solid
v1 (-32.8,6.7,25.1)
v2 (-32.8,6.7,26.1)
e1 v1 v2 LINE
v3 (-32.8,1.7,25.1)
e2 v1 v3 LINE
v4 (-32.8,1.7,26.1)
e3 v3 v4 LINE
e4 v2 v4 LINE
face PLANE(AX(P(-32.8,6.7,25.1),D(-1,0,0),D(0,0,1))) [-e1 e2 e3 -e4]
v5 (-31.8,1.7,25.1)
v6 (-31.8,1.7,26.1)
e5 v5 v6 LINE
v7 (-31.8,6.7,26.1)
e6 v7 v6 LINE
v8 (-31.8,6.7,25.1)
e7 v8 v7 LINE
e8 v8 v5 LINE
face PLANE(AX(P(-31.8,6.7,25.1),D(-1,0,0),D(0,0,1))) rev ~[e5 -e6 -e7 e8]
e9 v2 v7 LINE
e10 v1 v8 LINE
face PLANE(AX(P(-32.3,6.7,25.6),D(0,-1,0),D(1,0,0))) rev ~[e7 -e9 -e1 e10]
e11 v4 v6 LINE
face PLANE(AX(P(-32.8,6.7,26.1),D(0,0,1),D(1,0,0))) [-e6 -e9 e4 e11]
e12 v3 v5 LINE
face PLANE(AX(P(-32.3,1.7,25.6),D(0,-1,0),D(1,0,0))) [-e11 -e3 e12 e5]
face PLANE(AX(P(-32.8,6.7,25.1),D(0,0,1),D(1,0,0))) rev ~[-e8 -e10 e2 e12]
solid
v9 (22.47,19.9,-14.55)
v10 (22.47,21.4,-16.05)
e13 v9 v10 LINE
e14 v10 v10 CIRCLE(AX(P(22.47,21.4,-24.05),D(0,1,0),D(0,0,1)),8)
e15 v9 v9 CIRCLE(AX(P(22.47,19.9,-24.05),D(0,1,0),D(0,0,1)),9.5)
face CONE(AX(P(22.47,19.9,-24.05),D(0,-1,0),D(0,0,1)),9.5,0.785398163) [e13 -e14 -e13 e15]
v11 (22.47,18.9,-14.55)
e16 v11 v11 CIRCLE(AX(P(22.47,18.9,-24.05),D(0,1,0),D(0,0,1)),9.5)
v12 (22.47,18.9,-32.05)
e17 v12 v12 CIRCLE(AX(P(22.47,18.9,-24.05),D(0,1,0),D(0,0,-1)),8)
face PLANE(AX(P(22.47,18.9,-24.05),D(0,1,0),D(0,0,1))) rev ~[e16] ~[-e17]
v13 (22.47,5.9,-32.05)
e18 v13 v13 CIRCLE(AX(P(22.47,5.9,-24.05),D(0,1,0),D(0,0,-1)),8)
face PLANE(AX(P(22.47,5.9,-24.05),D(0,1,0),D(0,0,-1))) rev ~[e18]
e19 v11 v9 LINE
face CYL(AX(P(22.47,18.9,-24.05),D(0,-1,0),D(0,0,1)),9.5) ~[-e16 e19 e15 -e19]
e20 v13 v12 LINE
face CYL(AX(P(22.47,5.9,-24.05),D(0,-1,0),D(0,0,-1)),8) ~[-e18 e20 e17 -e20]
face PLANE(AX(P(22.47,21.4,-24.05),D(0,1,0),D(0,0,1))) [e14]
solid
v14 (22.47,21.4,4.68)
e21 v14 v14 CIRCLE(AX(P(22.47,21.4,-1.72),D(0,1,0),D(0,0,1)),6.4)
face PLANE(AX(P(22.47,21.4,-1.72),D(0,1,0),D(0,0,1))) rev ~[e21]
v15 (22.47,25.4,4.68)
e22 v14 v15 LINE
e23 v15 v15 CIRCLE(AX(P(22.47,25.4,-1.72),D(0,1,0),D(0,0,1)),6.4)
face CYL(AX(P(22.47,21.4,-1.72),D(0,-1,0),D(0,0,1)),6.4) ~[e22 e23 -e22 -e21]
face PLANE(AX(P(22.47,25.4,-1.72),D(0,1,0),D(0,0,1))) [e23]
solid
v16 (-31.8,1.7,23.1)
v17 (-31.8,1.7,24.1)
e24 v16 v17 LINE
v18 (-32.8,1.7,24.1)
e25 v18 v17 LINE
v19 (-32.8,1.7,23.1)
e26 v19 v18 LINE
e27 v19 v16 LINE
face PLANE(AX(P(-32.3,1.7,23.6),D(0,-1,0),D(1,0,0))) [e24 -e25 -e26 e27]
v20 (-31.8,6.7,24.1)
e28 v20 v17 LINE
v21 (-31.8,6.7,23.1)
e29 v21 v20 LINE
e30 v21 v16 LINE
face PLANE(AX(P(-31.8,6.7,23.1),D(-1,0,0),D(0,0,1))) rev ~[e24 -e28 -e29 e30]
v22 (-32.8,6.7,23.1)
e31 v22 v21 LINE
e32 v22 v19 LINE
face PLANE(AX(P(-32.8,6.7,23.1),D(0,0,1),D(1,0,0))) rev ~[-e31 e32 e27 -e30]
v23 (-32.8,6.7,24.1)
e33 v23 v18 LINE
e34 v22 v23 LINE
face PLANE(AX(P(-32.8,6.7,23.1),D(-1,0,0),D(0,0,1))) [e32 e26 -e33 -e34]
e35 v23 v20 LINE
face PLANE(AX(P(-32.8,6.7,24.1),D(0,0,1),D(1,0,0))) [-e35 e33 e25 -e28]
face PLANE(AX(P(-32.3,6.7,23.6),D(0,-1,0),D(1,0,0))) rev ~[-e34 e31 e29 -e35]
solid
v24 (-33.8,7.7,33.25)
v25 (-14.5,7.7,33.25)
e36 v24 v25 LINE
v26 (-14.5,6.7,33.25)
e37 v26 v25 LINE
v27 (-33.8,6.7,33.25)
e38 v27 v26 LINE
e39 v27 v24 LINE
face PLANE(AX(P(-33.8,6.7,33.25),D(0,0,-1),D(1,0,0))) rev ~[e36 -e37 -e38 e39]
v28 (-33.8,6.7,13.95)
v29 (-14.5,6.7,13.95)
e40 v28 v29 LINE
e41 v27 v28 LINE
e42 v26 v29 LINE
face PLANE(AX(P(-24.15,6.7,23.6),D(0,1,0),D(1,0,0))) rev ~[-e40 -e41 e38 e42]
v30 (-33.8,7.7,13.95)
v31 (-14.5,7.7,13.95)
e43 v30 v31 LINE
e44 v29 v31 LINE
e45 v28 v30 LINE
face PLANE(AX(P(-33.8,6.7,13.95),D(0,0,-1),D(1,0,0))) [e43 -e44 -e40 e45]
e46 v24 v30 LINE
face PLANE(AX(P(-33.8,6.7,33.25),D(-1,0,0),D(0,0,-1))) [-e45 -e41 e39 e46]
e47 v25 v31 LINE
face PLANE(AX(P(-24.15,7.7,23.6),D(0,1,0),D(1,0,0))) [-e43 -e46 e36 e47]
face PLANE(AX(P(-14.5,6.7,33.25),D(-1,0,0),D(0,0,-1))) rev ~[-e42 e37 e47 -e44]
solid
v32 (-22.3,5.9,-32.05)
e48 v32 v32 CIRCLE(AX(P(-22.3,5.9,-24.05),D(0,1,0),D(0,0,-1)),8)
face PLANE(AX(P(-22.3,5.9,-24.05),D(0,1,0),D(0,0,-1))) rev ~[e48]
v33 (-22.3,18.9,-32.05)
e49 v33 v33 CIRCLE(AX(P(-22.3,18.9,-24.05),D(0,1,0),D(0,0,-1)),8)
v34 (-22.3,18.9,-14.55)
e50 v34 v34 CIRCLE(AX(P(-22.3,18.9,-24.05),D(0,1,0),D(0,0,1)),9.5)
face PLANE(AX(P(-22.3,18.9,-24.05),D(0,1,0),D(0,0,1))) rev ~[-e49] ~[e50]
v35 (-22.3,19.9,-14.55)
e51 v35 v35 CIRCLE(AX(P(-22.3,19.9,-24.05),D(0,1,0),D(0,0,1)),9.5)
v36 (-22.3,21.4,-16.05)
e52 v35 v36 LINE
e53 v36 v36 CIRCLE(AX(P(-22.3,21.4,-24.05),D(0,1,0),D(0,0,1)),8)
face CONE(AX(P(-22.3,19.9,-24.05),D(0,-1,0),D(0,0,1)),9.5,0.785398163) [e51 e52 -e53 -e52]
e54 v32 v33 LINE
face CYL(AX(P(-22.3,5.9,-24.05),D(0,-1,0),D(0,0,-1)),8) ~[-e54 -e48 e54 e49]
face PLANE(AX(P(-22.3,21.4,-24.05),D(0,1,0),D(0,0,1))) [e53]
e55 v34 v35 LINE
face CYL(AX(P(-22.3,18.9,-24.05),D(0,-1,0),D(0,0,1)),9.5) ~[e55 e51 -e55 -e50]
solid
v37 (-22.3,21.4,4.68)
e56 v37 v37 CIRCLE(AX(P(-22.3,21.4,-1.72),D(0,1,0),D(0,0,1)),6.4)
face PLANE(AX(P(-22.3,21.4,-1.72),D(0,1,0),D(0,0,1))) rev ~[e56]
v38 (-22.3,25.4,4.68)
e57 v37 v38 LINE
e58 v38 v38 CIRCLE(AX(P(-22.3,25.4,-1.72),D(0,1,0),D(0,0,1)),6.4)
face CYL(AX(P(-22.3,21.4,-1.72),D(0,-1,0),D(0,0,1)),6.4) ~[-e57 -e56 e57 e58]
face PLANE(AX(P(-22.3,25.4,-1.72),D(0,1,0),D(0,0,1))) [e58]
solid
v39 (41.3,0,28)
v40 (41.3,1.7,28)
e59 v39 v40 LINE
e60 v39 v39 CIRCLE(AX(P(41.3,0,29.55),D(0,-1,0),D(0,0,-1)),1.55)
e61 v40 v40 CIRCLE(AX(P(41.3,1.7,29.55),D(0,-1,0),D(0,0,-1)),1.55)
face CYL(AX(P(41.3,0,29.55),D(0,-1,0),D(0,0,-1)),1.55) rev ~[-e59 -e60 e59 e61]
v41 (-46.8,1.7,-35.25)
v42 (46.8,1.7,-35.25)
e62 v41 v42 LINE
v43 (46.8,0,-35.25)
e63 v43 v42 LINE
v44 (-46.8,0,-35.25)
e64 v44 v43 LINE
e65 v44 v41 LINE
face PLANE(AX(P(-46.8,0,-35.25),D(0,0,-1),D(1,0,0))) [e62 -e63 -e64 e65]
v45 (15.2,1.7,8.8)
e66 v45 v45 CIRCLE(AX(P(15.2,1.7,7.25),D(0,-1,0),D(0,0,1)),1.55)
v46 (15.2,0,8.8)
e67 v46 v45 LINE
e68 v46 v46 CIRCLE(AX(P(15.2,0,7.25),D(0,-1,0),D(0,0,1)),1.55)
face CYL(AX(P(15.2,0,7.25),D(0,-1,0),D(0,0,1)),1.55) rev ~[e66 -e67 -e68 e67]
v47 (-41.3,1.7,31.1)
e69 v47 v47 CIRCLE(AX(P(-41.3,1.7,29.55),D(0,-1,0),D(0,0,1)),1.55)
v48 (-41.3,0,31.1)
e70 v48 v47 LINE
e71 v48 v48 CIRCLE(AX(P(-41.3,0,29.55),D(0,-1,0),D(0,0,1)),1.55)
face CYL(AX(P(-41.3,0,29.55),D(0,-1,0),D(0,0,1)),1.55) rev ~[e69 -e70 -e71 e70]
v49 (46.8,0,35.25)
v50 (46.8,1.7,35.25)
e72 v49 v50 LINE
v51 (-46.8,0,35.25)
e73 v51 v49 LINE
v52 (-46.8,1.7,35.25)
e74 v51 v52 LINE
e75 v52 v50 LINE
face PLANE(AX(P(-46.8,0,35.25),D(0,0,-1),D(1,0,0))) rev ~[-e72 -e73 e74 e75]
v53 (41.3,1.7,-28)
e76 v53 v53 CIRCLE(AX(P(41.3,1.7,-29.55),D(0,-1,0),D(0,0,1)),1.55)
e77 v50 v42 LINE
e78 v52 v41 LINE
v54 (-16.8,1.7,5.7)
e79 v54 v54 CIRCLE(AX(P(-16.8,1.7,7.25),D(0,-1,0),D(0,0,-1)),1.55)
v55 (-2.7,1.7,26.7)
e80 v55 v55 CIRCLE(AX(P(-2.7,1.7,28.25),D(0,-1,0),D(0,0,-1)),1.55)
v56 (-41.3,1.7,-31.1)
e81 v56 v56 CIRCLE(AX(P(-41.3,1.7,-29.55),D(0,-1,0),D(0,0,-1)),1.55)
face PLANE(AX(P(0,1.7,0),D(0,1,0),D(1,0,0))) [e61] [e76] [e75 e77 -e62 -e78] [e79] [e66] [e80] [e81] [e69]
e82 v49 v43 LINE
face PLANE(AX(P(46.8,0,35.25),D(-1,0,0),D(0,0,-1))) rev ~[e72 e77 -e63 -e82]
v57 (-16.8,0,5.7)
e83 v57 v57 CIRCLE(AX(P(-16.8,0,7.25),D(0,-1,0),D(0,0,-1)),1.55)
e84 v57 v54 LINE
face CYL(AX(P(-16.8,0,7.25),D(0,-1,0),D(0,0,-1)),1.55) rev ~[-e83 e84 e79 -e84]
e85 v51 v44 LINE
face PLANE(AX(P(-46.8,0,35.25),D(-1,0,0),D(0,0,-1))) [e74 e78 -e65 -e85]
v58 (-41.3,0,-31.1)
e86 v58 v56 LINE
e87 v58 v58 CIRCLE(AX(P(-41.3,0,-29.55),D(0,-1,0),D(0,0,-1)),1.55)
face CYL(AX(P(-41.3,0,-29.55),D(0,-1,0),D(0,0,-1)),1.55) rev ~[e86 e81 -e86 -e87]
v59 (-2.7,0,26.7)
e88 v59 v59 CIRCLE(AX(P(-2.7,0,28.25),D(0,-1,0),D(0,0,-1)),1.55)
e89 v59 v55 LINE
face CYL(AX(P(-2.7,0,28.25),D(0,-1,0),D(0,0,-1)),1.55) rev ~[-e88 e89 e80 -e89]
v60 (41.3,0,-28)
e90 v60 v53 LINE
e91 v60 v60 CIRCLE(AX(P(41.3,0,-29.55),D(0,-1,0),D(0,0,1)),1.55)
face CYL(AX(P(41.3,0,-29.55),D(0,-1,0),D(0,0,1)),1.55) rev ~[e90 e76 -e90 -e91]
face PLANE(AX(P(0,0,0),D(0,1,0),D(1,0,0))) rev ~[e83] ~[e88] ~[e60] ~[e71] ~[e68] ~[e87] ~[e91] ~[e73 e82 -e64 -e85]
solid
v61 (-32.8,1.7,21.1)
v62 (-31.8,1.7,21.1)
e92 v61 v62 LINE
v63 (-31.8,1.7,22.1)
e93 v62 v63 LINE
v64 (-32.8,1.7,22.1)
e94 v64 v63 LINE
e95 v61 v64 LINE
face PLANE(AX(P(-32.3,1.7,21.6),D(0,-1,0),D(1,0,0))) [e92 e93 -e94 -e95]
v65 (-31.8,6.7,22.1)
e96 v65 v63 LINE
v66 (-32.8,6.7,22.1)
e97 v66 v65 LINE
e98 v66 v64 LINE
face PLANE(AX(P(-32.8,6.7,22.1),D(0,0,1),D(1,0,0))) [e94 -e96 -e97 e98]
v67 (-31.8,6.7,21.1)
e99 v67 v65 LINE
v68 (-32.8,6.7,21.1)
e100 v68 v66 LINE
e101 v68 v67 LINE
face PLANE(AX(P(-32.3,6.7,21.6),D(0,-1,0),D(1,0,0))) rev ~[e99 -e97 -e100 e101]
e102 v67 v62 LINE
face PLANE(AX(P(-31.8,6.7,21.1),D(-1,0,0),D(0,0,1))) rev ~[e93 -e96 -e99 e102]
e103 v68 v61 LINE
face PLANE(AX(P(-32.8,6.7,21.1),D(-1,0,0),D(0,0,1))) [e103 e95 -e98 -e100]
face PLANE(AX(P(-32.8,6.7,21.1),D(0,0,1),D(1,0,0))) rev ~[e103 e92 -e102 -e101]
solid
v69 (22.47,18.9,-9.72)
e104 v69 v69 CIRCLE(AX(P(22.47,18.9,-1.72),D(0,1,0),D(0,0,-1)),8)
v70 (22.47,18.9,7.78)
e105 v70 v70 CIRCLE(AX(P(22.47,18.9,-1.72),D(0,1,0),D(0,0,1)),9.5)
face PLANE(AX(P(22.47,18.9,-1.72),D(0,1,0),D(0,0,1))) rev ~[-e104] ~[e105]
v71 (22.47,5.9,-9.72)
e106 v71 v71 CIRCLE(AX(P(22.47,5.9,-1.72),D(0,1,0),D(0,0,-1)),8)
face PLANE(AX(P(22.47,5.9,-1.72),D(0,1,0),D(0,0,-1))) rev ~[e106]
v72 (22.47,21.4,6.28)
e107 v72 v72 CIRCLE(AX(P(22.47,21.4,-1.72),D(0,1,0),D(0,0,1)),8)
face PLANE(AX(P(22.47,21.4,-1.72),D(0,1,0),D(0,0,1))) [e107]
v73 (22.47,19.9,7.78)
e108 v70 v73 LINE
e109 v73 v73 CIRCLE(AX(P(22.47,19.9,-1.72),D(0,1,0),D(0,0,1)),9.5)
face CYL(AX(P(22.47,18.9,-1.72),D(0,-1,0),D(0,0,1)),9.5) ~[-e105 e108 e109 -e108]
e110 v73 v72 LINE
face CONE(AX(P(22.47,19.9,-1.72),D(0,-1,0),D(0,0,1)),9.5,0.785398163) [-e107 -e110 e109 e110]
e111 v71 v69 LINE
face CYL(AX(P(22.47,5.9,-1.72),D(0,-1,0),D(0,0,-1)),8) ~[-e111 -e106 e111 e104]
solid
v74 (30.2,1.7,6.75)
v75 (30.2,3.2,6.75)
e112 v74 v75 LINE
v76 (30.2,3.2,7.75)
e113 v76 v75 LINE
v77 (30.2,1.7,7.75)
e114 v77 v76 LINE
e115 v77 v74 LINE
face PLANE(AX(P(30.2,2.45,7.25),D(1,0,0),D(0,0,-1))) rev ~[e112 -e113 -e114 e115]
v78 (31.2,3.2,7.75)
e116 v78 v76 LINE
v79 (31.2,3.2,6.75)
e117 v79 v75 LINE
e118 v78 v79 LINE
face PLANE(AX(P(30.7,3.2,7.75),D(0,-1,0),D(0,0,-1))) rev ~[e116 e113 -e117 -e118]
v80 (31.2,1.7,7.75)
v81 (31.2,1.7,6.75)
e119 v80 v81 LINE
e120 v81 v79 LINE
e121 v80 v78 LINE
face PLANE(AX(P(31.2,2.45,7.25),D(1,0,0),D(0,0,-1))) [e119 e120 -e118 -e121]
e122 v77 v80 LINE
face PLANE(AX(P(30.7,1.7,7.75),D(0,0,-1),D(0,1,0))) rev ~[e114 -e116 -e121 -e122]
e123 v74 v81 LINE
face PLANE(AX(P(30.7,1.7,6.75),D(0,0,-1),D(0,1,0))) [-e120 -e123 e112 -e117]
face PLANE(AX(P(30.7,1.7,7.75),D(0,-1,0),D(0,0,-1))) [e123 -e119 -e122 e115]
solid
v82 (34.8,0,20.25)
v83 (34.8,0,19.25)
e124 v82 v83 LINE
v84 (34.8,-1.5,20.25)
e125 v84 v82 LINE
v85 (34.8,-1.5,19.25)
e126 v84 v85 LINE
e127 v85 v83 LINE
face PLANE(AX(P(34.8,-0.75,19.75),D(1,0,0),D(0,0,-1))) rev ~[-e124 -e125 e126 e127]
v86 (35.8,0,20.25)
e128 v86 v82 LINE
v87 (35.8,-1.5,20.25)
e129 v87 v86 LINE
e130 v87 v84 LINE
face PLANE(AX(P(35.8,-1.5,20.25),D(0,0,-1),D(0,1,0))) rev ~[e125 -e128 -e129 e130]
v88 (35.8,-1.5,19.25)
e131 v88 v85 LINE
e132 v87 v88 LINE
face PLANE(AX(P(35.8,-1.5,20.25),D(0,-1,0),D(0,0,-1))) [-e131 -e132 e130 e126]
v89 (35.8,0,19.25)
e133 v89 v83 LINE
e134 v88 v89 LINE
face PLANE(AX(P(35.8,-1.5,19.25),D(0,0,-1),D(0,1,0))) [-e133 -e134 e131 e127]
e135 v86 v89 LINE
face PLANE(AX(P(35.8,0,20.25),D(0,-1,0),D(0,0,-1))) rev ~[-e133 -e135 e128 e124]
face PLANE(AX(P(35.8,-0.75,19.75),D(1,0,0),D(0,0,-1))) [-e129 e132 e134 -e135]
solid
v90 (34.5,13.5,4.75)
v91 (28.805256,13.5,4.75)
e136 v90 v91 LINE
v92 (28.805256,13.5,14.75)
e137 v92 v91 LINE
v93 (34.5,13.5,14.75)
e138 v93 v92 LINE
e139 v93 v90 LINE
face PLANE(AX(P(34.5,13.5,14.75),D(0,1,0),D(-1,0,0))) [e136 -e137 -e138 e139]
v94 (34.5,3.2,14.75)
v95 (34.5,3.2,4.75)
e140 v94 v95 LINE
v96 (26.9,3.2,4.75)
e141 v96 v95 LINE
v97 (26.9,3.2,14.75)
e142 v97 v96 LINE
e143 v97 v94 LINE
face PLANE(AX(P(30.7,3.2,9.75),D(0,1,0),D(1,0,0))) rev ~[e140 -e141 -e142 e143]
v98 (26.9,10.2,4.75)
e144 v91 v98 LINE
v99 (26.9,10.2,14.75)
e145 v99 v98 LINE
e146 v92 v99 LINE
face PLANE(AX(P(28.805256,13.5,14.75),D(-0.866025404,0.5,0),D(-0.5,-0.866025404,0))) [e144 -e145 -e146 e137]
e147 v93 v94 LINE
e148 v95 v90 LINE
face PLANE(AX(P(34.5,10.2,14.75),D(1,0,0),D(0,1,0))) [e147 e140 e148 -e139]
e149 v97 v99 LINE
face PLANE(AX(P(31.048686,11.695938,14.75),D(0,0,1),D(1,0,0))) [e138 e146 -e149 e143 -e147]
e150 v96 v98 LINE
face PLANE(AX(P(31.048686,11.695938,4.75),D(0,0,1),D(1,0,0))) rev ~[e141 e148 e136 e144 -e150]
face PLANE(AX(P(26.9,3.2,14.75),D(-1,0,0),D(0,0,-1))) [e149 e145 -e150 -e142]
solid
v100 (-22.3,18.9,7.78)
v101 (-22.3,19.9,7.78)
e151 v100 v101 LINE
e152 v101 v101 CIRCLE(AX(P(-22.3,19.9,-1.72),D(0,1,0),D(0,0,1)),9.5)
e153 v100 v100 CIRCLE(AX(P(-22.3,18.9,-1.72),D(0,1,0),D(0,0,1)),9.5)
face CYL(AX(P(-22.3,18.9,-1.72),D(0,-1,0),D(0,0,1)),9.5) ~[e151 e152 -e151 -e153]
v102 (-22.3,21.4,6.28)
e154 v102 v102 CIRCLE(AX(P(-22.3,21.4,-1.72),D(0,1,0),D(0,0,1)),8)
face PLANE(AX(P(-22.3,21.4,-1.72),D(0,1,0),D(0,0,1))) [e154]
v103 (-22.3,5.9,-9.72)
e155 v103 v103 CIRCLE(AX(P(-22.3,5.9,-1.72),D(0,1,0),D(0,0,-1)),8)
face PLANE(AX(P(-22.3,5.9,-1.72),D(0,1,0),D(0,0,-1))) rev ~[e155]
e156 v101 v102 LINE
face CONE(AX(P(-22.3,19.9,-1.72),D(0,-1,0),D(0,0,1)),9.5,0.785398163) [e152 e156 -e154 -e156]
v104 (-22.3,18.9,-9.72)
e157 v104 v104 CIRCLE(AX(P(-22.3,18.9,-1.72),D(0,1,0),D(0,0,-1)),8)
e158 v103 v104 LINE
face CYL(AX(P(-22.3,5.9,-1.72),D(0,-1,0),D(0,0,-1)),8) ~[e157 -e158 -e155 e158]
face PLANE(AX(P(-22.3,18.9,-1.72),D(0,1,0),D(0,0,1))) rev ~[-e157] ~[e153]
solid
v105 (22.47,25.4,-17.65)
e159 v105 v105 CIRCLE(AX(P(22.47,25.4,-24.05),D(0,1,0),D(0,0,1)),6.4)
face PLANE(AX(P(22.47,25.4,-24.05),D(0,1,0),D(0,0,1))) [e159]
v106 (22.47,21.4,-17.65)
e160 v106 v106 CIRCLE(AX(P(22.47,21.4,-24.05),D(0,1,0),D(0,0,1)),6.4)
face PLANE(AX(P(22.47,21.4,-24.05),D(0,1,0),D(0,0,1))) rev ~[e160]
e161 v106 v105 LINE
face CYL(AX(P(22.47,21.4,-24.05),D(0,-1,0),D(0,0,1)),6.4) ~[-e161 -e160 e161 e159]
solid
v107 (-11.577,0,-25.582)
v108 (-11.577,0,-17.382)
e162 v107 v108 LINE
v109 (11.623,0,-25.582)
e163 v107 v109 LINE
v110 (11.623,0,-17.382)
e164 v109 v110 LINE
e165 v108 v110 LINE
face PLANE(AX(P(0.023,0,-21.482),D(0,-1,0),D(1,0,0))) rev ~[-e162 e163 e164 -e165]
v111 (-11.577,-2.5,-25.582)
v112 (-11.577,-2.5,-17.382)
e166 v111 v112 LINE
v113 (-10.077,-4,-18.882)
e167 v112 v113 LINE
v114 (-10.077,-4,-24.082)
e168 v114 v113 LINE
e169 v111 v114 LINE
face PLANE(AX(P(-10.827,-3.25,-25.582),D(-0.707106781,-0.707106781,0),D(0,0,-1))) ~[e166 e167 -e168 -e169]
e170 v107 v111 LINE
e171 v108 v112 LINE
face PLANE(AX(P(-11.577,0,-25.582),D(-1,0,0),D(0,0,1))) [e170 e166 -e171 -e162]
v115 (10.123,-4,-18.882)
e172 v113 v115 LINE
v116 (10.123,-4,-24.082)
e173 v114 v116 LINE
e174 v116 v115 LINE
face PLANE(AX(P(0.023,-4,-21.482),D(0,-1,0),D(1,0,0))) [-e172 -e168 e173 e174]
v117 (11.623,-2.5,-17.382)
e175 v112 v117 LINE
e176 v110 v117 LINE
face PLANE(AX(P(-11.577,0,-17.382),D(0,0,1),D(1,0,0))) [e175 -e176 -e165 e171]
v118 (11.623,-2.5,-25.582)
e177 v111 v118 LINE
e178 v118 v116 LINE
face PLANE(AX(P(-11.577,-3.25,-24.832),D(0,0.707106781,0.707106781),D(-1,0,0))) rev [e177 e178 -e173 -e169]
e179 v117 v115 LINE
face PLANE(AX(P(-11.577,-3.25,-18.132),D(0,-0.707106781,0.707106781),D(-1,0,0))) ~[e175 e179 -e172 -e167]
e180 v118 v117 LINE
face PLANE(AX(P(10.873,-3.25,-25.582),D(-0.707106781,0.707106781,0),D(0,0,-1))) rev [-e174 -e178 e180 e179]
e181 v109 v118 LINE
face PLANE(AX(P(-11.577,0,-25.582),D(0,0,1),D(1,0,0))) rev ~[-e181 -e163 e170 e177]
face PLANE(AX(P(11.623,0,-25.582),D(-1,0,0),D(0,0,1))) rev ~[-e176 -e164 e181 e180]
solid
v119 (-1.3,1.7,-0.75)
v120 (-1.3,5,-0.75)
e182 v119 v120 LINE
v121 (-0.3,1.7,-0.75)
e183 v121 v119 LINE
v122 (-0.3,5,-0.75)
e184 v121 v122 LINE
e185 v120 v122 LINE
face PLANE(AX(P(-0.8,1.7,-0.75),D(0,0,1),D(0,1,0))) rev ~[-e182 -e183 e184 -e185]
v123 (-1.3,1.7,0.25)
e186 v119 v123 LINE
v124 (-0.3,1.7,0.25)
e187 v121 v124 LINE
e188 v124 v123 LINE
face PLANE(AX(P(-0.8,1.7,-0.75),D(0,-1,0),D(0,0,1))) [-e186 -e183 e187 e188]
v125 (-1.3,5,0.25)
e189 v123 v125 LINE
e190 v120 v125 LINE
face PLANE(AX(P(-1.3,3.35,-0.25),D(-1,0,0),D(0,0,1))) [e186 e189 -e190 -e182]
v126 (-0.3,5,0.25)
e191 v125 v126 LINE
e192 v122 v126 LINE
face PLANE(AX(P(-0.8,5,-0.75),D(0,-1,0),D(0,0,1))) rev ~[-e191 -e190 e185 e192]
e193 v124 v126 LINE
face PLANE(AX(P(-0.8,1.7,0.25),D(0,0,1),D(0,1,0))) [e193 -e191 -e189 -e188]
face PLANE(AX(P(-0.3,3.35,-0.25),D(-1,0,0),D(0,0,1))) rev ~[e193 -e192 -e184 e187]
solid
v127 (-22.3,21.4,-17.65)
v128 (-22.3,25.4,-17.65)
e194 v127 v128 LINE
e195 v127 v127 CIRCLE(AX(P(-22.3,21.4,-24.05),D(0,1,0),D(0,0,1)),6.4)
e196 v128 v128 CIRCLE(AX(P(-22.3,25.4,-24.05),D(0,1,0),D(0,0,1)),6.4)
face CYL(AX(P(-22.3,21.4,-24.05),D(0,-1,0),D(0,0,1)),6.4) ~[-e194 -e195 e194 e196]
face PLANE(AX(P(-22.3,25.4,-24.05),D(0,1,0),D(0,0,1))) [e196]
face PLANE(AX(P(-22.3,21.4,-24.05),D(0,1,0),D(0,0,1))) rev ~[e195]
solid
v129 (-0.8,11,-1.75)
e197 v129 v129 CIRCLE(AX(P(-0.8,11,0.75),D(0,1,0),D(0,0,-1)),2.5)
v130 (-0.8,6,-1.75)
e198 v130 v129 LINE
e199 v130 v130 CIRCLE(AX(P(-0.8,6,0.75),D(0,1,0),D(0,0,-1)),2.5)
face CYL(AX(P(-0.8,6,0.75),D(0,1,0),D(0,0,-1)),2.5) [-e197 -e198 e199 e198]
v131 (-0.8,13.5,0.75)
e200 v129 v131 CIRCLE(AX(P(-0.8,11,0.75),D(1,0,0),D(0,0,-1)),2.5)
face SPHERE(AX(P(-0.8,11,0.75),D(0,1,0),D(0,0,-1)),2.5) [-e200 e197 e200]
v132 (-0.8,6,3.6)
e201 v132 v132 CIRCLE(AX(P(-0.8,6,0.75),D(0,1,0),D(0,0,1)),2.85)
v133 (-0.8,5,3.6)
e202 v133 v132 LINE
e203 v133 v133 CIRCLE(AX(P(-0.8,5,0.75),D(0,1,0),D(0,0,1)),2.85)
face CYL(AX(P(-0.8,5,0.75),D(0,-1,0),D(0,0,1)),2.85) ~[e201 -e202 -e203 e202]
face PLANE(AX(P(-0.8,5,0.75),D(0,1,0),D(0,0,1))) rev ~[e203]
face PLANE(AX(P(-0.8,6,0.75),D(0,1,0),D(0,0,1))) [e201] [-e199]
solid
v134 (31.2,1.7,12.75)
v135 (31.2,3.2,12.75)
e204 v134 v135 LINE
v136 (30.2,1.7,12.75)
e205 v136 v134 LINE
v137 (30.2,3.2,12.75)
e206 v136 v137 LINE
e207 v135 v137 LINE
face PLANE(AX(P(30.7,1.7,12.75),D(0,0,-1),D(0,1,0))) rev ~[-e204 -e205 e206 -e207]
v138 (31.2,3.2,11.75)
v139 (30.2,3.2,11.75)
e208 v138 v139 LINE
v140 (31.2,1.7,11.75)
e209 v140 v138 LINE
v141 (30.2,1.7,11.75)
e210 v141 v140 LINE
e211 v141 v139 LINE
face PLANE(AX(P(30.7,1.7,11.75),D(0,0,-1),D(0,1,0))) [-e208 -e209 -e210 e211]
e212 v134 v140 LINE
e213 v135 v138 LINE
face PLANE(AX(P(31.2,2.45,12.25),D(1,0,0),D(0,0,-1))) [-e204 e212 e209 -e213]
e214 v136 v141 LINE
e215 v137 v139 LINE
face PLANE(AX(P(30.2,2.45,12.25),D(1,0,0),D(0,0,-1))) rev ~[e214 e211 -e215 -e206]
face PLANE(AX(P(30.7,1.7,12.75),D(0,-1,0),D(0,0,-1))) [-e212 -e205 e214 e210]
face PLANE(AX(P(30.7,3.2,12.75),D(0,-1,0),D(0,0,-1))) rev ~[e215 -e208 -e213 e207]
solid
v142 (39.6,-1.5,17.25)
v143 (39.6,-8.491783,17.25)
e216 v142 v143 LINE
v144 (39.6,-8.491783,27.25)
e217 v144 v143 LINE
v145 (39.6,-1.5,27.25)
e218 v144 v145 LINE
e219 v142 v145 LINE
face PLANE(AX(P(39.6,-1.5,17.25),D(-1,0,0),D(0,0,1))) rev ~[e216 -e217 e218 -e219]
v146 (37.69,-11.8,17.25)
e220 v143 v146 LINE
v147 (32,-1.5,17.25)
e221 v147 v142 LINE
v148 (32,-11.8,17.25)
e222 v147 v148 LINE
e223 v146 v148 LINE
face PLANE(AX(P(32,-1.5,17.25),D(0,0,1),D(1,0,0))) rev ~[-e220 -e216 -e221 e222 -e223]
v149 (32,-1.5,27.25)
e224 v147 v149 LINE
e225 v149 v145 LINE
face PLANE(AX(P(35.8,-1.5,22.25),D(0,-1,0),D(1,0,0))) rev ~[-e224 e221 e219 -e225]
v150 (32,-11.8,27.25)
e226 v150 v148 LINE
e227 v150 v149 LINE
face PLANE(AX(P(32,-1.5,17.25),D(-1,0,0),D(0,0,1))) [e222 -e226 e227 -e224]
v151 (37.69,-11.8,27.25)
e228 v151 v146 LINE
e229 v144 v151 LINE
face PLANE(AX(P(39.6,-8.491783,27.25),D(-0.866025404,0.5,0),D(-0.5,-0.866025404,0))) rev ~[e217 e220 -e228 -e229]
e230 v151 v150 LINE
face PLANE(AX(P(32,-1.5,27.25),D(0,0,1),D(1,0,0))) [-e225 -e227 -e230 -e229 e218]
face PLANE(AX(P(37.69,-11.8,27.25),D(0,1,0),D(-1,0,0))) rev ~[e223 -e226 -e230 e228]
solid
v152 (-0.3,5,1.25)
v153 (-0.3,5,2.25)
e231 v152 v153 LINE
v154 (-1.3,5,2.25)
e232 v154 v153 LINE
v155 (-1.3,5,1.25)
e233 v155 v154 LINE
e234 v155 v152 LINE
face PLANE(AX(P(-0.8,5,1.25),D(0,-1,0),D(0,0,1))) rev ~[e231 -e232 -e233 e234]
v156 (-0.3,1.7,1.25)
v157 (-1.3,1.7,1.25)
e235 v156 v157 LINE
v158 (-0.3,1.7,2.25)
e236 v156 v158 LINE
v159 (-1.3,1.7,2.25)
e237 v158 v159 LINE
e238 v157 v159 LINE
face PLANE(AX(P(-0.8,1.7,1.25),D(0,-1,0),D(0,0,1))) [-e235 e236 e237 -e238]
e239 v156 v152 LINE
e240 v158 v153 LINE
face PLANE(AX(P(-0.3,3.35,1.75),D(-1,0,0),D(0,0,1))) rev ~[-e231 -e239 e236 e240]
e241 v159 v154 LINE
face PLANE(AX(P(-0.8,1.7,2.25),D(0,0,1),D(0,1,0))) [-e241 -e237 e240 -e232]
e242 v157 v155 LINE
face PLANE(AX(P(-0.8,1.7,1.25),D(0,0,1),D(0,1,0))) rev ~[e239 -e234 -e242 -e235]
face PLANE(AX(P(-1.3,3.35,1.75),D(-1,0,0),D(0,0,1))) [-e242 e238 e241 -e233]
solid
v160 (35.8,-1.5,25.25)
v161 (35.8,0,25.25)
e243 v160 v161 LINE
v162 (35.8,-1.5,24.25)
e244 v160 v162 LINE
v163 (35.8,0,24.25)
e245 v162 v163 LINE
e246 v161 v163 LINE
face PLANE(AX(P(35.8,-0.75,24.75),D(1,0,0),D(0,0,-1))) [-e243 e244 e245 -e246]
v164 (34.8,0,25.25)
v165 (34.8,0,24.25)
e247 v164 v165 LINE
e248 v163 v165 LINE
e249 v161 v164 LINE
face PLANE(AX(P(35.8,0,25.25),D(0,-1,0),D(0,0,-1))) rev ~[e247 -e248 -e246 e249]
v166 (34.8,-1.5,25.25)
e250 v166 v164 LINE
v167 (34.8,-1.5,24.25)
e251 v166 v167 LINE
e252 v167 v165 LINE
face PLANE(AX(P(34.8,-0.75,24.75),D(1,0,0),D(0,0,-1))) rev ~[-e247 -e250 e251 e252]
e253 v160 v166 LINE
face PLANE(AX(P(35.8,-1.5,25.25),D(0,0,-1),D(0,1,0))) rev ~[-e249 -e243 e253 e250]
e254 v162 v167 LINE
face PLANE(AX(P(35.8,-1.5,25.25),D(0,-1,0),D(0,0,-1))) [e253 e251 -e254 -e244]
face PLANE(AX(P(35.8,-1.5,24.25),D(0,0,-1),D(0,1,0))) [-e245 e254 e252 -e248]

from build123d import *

# Parameters (mm, degrees)
CROQUIS1_W                 = 93.6
CROQUIS1_H                 = 70.5
SALIENTE_EXTRUIR1_DEPTH    = 1.7
SALIENTE_EXTRUIR2_START    = 5
CROQUIS2_W                 = 19.3
CROQUIS2_H                 = 19.3
SALIENTE_EXTRUIR2_DEPTH    = 1
CROQUIS3_W                 = 1
CROQUIS3_H                 = 1
SALIENTE_EXTRUIR3_DEPTH    = 5
SALIENTE_EXTRUIR3_2_DEPTH  = 5
SALIENTE_EXTRUIR3_3_DEPTH  = 5
SALIENTE_EXTRUIR4_START    = 3.3
CROQUIS4_R                 = 2.85
SALIENTE_EXTRUIR4_DEPTH    = 1
CROQUIS8_W                 = 1
CROQUIS8_H                 = 3.3
SALIENTE_EXTRUIR5_DEPTH    = 0.5
SALIENTE_EXTRUIR5_2_DEPTH  = 0.5
SALIENTE_EXTRUIR6_START    = 1.5
CROQUIS10_W                = 7.6
CROQUIS10_H                = 10
SALIENTE_EXTRUIR6_DEPTH    = 7
SALIENTE_EXTRUIR7_DEPTH    = 10
SALIENTE_EXTRUIR8_START    = -3.8
CROQUIS13_W                = 1
CROQUIS13_H                = 1.5
SALIENTE_EXTRUIR8_DEPTH    = 0.5
SALIENTE_EXTRUIR8_2_DEPTH  = 0.5
SALIENTE_EXTRUIR9_START    = 1.5
CROQUIS16_W                = 7.6
CROQUIS16_H                = 10
SALIENTE_EXTRUIR9_DEPTH    = 1
SALIENTE_EXTRUIR10_DEPTH   = 10
SALIENTE_EXTRUIR11_START   = -3.8
CROQUIS20_W                = 1
CROQUIS20_H                = 1.5
SALIENTE_EXTRUIR11_DEPTH   = 1
SALIENTE_EXTRUIR11_2_DEPTH = 1
SALIENTE_EXTRUIR12_START   = 4.2
CROQUIS21_R                = 8
SALIENTE_EXTRUIR12_DEPTH   = 13
SALIENTE_EXTRUIR12_2_DEPTH = 13
SALIENTE_EXTRUIR12_3_DEPTH = 13
SALIENTE_EXTRUIR12_4_DEPTH = 13
CROQUIS23_W                = 23.2
CROQUIS23_H                = 8.2
SALIENTE_EXTRUIR13_DEPTH   = 4
CHAFL_N1_SIZE              = 1.5
CROQUIS27_R                = 1.55
CORTAR_EXTRUIR1_DEPTH      = 62.563077408
CROQUIS29_R                = 9.5
SALIENTE_EXTRUIR14_DEPTH   = 2.5
CHAFL_N2_SIZE              = 1.5
CHAFL_N3_SIZE              = 1.5
CHAFL_N4_SIZE              = 1.5
CHAFL_N5_SIZE              = 1.5
CROQUIS30_R                = 6.4
SALIENTE_EXTRUIR15_DEPTH   = 4
SALIENTE_EXTRUIR15_2_DEPTH = 4
SALIENTE_EXTRUIR15_3_DEPTH = 4
SALIENTE_EXTRUIR15_4_DEPTH = 4


with BuildPart() as part:
    # Croquis1 → Saliente-Extruir1 (new body)
    with BuildSketch(Plane(origin=(0, 0, 0), x_dir=(1, 0, 0), z_dir=(0, 1, 0))):
        Rectangle(CROQUIS1_W, CROQUIS1_H)
    extrude(amount=SALIENTE_EXTRUIR1_DEPTH)

    # Croquis27 → Cortar-Extruir1 (cut, through all)
    with BuildSketch(Plane.XZ):
        with Locations(Location((-2.7, 28.25, 0), (0, 0, 270))):
            Circle(CROQUIS27_R)
        with Locations(Location((-16.8, 7.25, 0), (0, 0, 270))):
            Circle(CROQUIS27_R)
        with Locations(Location((15.2, 7.25, 0), (0, 0, 90))):
            Circle(CROQUIS27_R)
        with Locations(Location((-41.3, -29.55, 0), (0, 0, 270))):
            Circle(CROQUIS27_R)
        with Locations(Location((41.3, -29.55, 0), (0, 0, 90))):
            Circle(CROQUIS27_R)
        with Locations(Location((41.3, 29.55, 0), (0, 0, 270))):
            Circle(CROQUIS27_R)
        with Locations(Location((-41.3, 29.55, 0), (0, 0, 90))):
            Circle(CROQUIS27_R)
    extrude(amount=-CORTAR_EXTRUIR1_DEPTH, mode=Mode.SUBTRACT)


with BuildPart() as body_2:
    # Croquis2 → Saliente-Extruir2 (new body)
    with BuildSketch(Plane(origin=(0, 1.7, 0), x_dir=(1, 0, 0), z_dir=(0, 1, 0)).offset(SALIENTE_EXTRUIR2_START)):
        with Locations((-24.15, -23.6)):
            Rectangle(CROQUIS2_W, CROQUIS2_H)
    extrude(amount=SALIENTE_EXTRUIR2_DEPTH)


with BuildPart() as body_3:
    # Croquis3 → Saliente-Extruir3 (new body)
    with BuildSketch(Plane.XZ.offset(-6.7)):
        with Locations((-32.3, 25.6)):
            Rectangle(CROQUIS3_W, CROQUIS3_H)
    extrude(amount=SALIENTE_EXTRUIR3_DEPTH)


with BuildPart() as body_4:
    # Croquis3 → Saliente-Extruir3 2 (new body)
    with BuildSketch(Plane.XZ.offset(-6.7)):
        with Locations((-32.3, 23.6)):
            Rectangle(CROQUIS3_W, CROQUIS3_H)
    extrude(amount=SALIENTE_EXTRUIR3_2_DEPTH)


with BuildPart() as body_5:
    # Croquis3 → Saliente-Extruir3 3 (new body)
    with BuildSketch(Plane.XZ.offset(-6.7)):
        with Locations((-32.3, 21.6)):
            Rectangle(CROQUIS3_W, CROQUIS3_H)
    extrude(amount=SALIENTE_EXTRUIR3_3_DEPTH)


with BuildPart() as body_6:
    # Croquis4 → Saliente-Extruir4 (new body)
    with BuildSketch(Plane(origin=(0, 1.7, 0), x_dir=(1, 0, 0), z_dir=(0, 1, 0)).offset(SALIENTE_EXTRUIR4_START)):
        with Locations(Location((-0.8, -0.75, 0), (0, 0, 270))):
            Circle(CROQUIS4_R)
    extrude(amount=SALIENTE_EXTRUIR4_DEPTH)

    # Croquis7 → Revolución2 (revolve)
    with BuildSketch(Plane.ZY.offset(0.8)):
        with BuildLine():
            Line((0.75, 6), (-1.75, 6))
            Line((-1.75, 6), (-1.75, 11))
            ThreePointArc((-1.75, 11), (-1.017766953, 12.767766953), (0.75, 13.5))
            Line((0.75, 13.5), (0.75, 6))
        make_face()
    revolve(axis=Axis((-0.8, 6, 0.75), (0, 1, 0)))


with BuildPart() as body_7:
    # Croquis8 → Saliente-Extruir5 (new, symmetric)
    with BuildSketch(Plane.ZY.offset(0.8)):
        with Locations((-0.25, 3.35)):
            Rectangle(CROQUIS8_W, CROQUIS8_H)
    extrude(amount=SALIENTE_EXTRUIR5_DEPTH, both=True)


with BuildPart() as body_8:
    # Croquis8 → Saliente-Extruir5 2 (new, symmetric)
    with BuildSketch(Plane.ZY.offset(0.8)):
        with Locations((1.75, 3.35)):
            Rectangle(CROQUIS8_W, CROQUIS8_H)
    extrude(amount=SALIENTE_EXTRUIR5_2_DEPTH, both=True)


with BuildPart() as body_9:
    # Croquis10 → Saliente-Extruir6 (new body)
    with BuildSketch(Plane(origin=(0, 1.7, 0), x_dir=(1, 0, 0), z_dir=(0, 1, 0)).offset(SALIENTE_EXTRUIR6_START)):
        with Locations((30.7, -9.75)):
            Rectangle(CROQUIS10_W, CROQUIS10_H)
    extrude(amount=SALIENTE_EXTRUIR6_DEPTH)

    # Croquis12 → Saliente-Extruir7 (add)
    with BuildSketch(Plane.XY.offset(14.75)):
        Polygon((34.5, 10.2), (34.5, 13.5), (28.805255888, 13.5), (26.9, 10.2), align=None)
    extrude(amount=-SALIENTE_EXTRUIR7_DEPTH)


with BuildPart() as body_10:
    # Croquis13 → Saliente-Extruir8 (new, symmetric)
    with BuildSketch(Plane(origin=(34.5, 0, 0), x_dir=(0, 0, -1), z_dir=(1, 0, 0)).offset(SALIENTE_EXTRUIR8_START)):
        with Locations((-12.25, 2.45)):
            Rectangle(CROQUIS13_W, CROQUIS13_H)
    extrude(amount=SALIENTE_EXTRUIR8_DEPTH, both=True)


with BuildPart() as body_11:
    # Croquis13 → Saliente-Extruir8 2 (new, symmetric)
    with BuildSketch(Plane(origin=(34.5, 0, 0), x_dir=(0, 0, -1), z_dir=(1, 0, 0)).offset(SALIENTE_EXTRUIR8_START)):
        with Locations((-7.25, 2.45)):
            Rectangle(CROQUIS13_W, CROQUIS13_H)
    extrude(amount=SALIENTE_EXTRUIR8_2_DEPTH, both=True)


with BuildPart() as body_12:
    # Croquis16 → Saliente-Extruir9 (new body)
    with BuildSketch(Plane.XZ.offset(SALIENTE_EXTRUIR9_START)):
        with Locations((35.8, 22.25)):
            Rectangle(CROQUIS16_W, CROQUIS16_H)
    extrude(amount=SALIENTE_EXTRUIR9_DEPTH)

    # Croquis18 → Saliente-Extruir10 (add)
    with BuildSketch(Plane.XY.offset(27.25)):
        Polygon((39.6, -1.5), (39.6, -8.491782958), (37.69, -11.8), (32, -11.8), (32, -1.5), align=None)
    extrude(amount=-SALIENTE_EXTRUIR10_DEPTH)


with BuildPart() as body_13:
    # Croquis20 → Saliente-Extruir11 (new body)
    with BuildSketch(Plane(origin=(39.6, 0, 0), x_dir=(0, 0, -1), z_dir=(1, 0, 0)).offset(SALIENTE_EXTRUIR11_START)):
        with Locations((-24.75, -0.75)):
            Rectangle(CROQUIS20_W, CROQUIS20_H)
    extrude(amount=-SALIENTE_EXTRUIR11_DEPTH)


with BuildPart() as body_14:
    # Croquis20 → Saliente-Extruir11 2 (new body)
    with BuildSketch(Plane(origin=(39.6, 0, 0), x_dir=(0, 0, -1), z_dir=(1, 0, 0)).offset(SALIENTE_EXTRUIR11_START)):
        with Locations((-19.75, -0.75)):
            Rectangle(CROQUIS20_W, CROQUIS20_H)
    extrude(amount=-SALIENTE_EXTRUIR11_2_DEPTH)


with BuildPart() as body_15:
    # Croquis21 → Saliente-Extruir12 (new body)
    with BuildSketch(Plane(origin=(0, 1.7, 0), x_dir=(1, 0, 0), z_dir=(0, 1, 0)).offset(SALIENTE_EXTRUIR12_START)):
        with Locations(Location((-22.3, 24.05, 0), (0, 0, 90))):
            Circle(CROQUIS21_R)
    extrude(amount=SALIENTE_EXTRUIR12_DEPTH)



with BuildPart() as body_16:
    # Croquis21 → Saliente-Extruir12 2 (new body)
    with BuildSketch(Plane(origin=(0, 1.7, 0), x_dir=(1, 0, 0), z_dir=(0, 1, 0)).offset(SALIENTE_EXTRUIR12_START)):
        with Locations(Location((22.47, 24.05, 0), (0, 0, 90))):
            Circle(CROQUIS21_R)
    extrude(amount=SALIENTE_EXTRUIR12_2_DEPTH)


with BuildPart() as body_17:
    # Croquis21 → Saliente-Extruir12 3 (new body)
    with BuildSketch(Plane(origin=(0, 1.7, 0), x_dir=(1, 0, 0), z_dir=(0, 1, 0)).offset(SALIENTE_EXTRUIR12_START)):
        with Locations(Location((-22.3, 1.72, 0), (0, 0, 90))):
            Circle(CROQUIS21_R)
    extrude(amount=SALIENTE_EXTRUIR12_3_DEPTH)


with BuildPart() as body_18:
    # Croquis21 → Saliente-Extruir12 4 (new body)
    with BuildSketch(Plane(origin=(0, 1.7, 0), x_dir=(1, 0, 0), z_dir=(0, 1, 0)).offset(SALIENTE_EXTRUIR12_START)):
        with Locations(Location((22.47, 1.72, 0), (0, 0, 90))):
            Circle(CROQUIS21_R)
    extrude(amount=SALIENTE_EXTRUIR12_4_DEPTH)


with BuildPart() as body_19:
    # Croquis23 → Saliente-Extruir13 (new body)
    with BuildSketch(Plane.XZ):
        with Locations((0.023, -21.482)):
            Rectangle(CROQUIS23_W, CROQUIS23_H)
    extrude(amount=SALIENTE_EXTRUIR13_DEPTH)

    # Chaflán1
    chafl_n1_edges = [body_19.edges().sort_by_distance(p)[0] for p in [
        (-11.577, -4, -21.482),
        (0.023, -4, -25.582),
        (11.623, -4, -21.482),
        (0.023, -4, -17.382),
    ]]
    chamfer(chafl_n1_edges, length=CHAFL_N1_SIZE)


with BuildPart() as body_15_1:
    add(body_15.part)

    add(body_16.part)  # Saliente-Extruir14 merges body 16

    add(body_17.part)  # Saliente-Extruir14 merges body 17

    add(body_18.part)  # Saliente-Extruir14 merges body 18
    # Croquis29 → Saliente-Extruir14 (add)
    with BuildSketch(Plane(origin=(0, 18.9, 0), x_dir=(1, 0, 0), z_dir=(0, 1, 0))):
        with Locations(Location((-22.3, 24.05, 0), (0, 0, 270))):
            Circle(CROQUIS29_R)
        with Locations(Location((22.47, 24.05, 0), (0, 0, 270))):
            Circle(CROQUIS29_R)
        with Locations(Location((-22.3, 1.72, 0), (0, 0, 270))):
            Circle(CROQUIS29_R)
        with Locations(Location((22.47, 1.72, 0), (0, 0, 270))):
            Circle(CROQUIS29_R)
    extrude(amount=SALIENTE_EXTRUIR14_DEPTH)

    # Chaflán2
    chafl_n2_edges = [body_15_1.edges().sort_by_distance(p)[0] for p in [
        (-22.3, 21.4, -33.55),
    ]]
    chamfer(chafl_n2_edges, length=CHAFL_N2_SIZE)

    # Chaflán3
    chafl_n3_edges = [body_15_1.edges().sort_by_distance(p)[0] for p in [
        (-22.3, 21.4, -11.22),
    ]]
    chamfer(chafl_n3_edges, length=CHAFL_N3_SIZE)

    # Chaflán4
    chafl_n4_edges = [body_15_1.edges().sort_by_distance(p)[0] for p in [
        (22.47, 21.4, -33.55),
    ]]
    chamfer(chafl_n4_edges, length=CHAFL_N4_SIZE)

    # Chaflán5
    chafl_n5_edges = [body_15_1.edges().sort_by_distance(p)[0] for p in [
        (22.47, 21.4, -11.22),
    ]]
    chamfer(chafl_n5_edges, length=CHAFL_N5_SIZE)


with BuildPart() as body_17_2:
    # Croquis30 → Saliente-Extruir15 (new body)
    with BuildSketch(Plane(origin=(0, 21.4, 0), x_dir=(1, 0, 0), z_dir=(0, 1, 0))):
        with Locations(Location((-22.3, 24.05, 0), (0, 0, 270))):
            Circle(CROQUIS30_R)
    extrude(amount=SALIENTE_EXTRUIR15_DEPTH)


with BuildPart() as body_18_2:
    # Croquis30 → Saliente-Extruir15 2 (new body)
    with BuildSketch(Plane(origin=(0, 21.4, 0), x_dir=(1, 0, 0), z_dir=(0, 1, 0))):
        with Locations(Location((22.47, 24.05, 0), (0, 0, 270))):
            Circle(CROQUIS30_R)
    extrude(amount=SALIENTE_EXTRUIR15_2_DEPTH)


with BuildPart() as body_19_2:
    # Croquis30 → Saliente-Extruir15 3 (new body)
    with BuildSketch(Plane(origin=(0, 21.4, 0), x_dir=(1, 0, 0), z_dir=(0, 1, 0))):
        with Locations(Location((-22.3, 1.72, 0), (0, 0, 270))):
            Circle(CROQUIS30_R)
    extrude(amount=SALIENTE_EXTRUIR15_3_DEPTH)


with BuildPart() as body_20:
    # Croquis30 → Saliente-Extruir15 4 (new body)
    with BuildSketch(Plane(origin=(0, 21.4, 0), x_dir=(1, 0, 0), z_dir=(0, 1, 0))):
        with Locations(Location((22.47, 1.72, 0), (0, 0, 270))):
            Circle(CROQUIS30_R)
    extrude(amount=SALIENTE_EXTRUIR15_4_DEPTH)


solid = Compound([part.part, body_2.part, body_3.part, body_4.part, body_5.part, body_6.part, body_7.part, body_8.part, body_9.part, body_10.part, body_11.part, body_12.part, body_13.part, body_14.part, body_19.part, body_15_1.part, body_17_2.part, body_18_2.part, body_19_2.part, body_20.part])
